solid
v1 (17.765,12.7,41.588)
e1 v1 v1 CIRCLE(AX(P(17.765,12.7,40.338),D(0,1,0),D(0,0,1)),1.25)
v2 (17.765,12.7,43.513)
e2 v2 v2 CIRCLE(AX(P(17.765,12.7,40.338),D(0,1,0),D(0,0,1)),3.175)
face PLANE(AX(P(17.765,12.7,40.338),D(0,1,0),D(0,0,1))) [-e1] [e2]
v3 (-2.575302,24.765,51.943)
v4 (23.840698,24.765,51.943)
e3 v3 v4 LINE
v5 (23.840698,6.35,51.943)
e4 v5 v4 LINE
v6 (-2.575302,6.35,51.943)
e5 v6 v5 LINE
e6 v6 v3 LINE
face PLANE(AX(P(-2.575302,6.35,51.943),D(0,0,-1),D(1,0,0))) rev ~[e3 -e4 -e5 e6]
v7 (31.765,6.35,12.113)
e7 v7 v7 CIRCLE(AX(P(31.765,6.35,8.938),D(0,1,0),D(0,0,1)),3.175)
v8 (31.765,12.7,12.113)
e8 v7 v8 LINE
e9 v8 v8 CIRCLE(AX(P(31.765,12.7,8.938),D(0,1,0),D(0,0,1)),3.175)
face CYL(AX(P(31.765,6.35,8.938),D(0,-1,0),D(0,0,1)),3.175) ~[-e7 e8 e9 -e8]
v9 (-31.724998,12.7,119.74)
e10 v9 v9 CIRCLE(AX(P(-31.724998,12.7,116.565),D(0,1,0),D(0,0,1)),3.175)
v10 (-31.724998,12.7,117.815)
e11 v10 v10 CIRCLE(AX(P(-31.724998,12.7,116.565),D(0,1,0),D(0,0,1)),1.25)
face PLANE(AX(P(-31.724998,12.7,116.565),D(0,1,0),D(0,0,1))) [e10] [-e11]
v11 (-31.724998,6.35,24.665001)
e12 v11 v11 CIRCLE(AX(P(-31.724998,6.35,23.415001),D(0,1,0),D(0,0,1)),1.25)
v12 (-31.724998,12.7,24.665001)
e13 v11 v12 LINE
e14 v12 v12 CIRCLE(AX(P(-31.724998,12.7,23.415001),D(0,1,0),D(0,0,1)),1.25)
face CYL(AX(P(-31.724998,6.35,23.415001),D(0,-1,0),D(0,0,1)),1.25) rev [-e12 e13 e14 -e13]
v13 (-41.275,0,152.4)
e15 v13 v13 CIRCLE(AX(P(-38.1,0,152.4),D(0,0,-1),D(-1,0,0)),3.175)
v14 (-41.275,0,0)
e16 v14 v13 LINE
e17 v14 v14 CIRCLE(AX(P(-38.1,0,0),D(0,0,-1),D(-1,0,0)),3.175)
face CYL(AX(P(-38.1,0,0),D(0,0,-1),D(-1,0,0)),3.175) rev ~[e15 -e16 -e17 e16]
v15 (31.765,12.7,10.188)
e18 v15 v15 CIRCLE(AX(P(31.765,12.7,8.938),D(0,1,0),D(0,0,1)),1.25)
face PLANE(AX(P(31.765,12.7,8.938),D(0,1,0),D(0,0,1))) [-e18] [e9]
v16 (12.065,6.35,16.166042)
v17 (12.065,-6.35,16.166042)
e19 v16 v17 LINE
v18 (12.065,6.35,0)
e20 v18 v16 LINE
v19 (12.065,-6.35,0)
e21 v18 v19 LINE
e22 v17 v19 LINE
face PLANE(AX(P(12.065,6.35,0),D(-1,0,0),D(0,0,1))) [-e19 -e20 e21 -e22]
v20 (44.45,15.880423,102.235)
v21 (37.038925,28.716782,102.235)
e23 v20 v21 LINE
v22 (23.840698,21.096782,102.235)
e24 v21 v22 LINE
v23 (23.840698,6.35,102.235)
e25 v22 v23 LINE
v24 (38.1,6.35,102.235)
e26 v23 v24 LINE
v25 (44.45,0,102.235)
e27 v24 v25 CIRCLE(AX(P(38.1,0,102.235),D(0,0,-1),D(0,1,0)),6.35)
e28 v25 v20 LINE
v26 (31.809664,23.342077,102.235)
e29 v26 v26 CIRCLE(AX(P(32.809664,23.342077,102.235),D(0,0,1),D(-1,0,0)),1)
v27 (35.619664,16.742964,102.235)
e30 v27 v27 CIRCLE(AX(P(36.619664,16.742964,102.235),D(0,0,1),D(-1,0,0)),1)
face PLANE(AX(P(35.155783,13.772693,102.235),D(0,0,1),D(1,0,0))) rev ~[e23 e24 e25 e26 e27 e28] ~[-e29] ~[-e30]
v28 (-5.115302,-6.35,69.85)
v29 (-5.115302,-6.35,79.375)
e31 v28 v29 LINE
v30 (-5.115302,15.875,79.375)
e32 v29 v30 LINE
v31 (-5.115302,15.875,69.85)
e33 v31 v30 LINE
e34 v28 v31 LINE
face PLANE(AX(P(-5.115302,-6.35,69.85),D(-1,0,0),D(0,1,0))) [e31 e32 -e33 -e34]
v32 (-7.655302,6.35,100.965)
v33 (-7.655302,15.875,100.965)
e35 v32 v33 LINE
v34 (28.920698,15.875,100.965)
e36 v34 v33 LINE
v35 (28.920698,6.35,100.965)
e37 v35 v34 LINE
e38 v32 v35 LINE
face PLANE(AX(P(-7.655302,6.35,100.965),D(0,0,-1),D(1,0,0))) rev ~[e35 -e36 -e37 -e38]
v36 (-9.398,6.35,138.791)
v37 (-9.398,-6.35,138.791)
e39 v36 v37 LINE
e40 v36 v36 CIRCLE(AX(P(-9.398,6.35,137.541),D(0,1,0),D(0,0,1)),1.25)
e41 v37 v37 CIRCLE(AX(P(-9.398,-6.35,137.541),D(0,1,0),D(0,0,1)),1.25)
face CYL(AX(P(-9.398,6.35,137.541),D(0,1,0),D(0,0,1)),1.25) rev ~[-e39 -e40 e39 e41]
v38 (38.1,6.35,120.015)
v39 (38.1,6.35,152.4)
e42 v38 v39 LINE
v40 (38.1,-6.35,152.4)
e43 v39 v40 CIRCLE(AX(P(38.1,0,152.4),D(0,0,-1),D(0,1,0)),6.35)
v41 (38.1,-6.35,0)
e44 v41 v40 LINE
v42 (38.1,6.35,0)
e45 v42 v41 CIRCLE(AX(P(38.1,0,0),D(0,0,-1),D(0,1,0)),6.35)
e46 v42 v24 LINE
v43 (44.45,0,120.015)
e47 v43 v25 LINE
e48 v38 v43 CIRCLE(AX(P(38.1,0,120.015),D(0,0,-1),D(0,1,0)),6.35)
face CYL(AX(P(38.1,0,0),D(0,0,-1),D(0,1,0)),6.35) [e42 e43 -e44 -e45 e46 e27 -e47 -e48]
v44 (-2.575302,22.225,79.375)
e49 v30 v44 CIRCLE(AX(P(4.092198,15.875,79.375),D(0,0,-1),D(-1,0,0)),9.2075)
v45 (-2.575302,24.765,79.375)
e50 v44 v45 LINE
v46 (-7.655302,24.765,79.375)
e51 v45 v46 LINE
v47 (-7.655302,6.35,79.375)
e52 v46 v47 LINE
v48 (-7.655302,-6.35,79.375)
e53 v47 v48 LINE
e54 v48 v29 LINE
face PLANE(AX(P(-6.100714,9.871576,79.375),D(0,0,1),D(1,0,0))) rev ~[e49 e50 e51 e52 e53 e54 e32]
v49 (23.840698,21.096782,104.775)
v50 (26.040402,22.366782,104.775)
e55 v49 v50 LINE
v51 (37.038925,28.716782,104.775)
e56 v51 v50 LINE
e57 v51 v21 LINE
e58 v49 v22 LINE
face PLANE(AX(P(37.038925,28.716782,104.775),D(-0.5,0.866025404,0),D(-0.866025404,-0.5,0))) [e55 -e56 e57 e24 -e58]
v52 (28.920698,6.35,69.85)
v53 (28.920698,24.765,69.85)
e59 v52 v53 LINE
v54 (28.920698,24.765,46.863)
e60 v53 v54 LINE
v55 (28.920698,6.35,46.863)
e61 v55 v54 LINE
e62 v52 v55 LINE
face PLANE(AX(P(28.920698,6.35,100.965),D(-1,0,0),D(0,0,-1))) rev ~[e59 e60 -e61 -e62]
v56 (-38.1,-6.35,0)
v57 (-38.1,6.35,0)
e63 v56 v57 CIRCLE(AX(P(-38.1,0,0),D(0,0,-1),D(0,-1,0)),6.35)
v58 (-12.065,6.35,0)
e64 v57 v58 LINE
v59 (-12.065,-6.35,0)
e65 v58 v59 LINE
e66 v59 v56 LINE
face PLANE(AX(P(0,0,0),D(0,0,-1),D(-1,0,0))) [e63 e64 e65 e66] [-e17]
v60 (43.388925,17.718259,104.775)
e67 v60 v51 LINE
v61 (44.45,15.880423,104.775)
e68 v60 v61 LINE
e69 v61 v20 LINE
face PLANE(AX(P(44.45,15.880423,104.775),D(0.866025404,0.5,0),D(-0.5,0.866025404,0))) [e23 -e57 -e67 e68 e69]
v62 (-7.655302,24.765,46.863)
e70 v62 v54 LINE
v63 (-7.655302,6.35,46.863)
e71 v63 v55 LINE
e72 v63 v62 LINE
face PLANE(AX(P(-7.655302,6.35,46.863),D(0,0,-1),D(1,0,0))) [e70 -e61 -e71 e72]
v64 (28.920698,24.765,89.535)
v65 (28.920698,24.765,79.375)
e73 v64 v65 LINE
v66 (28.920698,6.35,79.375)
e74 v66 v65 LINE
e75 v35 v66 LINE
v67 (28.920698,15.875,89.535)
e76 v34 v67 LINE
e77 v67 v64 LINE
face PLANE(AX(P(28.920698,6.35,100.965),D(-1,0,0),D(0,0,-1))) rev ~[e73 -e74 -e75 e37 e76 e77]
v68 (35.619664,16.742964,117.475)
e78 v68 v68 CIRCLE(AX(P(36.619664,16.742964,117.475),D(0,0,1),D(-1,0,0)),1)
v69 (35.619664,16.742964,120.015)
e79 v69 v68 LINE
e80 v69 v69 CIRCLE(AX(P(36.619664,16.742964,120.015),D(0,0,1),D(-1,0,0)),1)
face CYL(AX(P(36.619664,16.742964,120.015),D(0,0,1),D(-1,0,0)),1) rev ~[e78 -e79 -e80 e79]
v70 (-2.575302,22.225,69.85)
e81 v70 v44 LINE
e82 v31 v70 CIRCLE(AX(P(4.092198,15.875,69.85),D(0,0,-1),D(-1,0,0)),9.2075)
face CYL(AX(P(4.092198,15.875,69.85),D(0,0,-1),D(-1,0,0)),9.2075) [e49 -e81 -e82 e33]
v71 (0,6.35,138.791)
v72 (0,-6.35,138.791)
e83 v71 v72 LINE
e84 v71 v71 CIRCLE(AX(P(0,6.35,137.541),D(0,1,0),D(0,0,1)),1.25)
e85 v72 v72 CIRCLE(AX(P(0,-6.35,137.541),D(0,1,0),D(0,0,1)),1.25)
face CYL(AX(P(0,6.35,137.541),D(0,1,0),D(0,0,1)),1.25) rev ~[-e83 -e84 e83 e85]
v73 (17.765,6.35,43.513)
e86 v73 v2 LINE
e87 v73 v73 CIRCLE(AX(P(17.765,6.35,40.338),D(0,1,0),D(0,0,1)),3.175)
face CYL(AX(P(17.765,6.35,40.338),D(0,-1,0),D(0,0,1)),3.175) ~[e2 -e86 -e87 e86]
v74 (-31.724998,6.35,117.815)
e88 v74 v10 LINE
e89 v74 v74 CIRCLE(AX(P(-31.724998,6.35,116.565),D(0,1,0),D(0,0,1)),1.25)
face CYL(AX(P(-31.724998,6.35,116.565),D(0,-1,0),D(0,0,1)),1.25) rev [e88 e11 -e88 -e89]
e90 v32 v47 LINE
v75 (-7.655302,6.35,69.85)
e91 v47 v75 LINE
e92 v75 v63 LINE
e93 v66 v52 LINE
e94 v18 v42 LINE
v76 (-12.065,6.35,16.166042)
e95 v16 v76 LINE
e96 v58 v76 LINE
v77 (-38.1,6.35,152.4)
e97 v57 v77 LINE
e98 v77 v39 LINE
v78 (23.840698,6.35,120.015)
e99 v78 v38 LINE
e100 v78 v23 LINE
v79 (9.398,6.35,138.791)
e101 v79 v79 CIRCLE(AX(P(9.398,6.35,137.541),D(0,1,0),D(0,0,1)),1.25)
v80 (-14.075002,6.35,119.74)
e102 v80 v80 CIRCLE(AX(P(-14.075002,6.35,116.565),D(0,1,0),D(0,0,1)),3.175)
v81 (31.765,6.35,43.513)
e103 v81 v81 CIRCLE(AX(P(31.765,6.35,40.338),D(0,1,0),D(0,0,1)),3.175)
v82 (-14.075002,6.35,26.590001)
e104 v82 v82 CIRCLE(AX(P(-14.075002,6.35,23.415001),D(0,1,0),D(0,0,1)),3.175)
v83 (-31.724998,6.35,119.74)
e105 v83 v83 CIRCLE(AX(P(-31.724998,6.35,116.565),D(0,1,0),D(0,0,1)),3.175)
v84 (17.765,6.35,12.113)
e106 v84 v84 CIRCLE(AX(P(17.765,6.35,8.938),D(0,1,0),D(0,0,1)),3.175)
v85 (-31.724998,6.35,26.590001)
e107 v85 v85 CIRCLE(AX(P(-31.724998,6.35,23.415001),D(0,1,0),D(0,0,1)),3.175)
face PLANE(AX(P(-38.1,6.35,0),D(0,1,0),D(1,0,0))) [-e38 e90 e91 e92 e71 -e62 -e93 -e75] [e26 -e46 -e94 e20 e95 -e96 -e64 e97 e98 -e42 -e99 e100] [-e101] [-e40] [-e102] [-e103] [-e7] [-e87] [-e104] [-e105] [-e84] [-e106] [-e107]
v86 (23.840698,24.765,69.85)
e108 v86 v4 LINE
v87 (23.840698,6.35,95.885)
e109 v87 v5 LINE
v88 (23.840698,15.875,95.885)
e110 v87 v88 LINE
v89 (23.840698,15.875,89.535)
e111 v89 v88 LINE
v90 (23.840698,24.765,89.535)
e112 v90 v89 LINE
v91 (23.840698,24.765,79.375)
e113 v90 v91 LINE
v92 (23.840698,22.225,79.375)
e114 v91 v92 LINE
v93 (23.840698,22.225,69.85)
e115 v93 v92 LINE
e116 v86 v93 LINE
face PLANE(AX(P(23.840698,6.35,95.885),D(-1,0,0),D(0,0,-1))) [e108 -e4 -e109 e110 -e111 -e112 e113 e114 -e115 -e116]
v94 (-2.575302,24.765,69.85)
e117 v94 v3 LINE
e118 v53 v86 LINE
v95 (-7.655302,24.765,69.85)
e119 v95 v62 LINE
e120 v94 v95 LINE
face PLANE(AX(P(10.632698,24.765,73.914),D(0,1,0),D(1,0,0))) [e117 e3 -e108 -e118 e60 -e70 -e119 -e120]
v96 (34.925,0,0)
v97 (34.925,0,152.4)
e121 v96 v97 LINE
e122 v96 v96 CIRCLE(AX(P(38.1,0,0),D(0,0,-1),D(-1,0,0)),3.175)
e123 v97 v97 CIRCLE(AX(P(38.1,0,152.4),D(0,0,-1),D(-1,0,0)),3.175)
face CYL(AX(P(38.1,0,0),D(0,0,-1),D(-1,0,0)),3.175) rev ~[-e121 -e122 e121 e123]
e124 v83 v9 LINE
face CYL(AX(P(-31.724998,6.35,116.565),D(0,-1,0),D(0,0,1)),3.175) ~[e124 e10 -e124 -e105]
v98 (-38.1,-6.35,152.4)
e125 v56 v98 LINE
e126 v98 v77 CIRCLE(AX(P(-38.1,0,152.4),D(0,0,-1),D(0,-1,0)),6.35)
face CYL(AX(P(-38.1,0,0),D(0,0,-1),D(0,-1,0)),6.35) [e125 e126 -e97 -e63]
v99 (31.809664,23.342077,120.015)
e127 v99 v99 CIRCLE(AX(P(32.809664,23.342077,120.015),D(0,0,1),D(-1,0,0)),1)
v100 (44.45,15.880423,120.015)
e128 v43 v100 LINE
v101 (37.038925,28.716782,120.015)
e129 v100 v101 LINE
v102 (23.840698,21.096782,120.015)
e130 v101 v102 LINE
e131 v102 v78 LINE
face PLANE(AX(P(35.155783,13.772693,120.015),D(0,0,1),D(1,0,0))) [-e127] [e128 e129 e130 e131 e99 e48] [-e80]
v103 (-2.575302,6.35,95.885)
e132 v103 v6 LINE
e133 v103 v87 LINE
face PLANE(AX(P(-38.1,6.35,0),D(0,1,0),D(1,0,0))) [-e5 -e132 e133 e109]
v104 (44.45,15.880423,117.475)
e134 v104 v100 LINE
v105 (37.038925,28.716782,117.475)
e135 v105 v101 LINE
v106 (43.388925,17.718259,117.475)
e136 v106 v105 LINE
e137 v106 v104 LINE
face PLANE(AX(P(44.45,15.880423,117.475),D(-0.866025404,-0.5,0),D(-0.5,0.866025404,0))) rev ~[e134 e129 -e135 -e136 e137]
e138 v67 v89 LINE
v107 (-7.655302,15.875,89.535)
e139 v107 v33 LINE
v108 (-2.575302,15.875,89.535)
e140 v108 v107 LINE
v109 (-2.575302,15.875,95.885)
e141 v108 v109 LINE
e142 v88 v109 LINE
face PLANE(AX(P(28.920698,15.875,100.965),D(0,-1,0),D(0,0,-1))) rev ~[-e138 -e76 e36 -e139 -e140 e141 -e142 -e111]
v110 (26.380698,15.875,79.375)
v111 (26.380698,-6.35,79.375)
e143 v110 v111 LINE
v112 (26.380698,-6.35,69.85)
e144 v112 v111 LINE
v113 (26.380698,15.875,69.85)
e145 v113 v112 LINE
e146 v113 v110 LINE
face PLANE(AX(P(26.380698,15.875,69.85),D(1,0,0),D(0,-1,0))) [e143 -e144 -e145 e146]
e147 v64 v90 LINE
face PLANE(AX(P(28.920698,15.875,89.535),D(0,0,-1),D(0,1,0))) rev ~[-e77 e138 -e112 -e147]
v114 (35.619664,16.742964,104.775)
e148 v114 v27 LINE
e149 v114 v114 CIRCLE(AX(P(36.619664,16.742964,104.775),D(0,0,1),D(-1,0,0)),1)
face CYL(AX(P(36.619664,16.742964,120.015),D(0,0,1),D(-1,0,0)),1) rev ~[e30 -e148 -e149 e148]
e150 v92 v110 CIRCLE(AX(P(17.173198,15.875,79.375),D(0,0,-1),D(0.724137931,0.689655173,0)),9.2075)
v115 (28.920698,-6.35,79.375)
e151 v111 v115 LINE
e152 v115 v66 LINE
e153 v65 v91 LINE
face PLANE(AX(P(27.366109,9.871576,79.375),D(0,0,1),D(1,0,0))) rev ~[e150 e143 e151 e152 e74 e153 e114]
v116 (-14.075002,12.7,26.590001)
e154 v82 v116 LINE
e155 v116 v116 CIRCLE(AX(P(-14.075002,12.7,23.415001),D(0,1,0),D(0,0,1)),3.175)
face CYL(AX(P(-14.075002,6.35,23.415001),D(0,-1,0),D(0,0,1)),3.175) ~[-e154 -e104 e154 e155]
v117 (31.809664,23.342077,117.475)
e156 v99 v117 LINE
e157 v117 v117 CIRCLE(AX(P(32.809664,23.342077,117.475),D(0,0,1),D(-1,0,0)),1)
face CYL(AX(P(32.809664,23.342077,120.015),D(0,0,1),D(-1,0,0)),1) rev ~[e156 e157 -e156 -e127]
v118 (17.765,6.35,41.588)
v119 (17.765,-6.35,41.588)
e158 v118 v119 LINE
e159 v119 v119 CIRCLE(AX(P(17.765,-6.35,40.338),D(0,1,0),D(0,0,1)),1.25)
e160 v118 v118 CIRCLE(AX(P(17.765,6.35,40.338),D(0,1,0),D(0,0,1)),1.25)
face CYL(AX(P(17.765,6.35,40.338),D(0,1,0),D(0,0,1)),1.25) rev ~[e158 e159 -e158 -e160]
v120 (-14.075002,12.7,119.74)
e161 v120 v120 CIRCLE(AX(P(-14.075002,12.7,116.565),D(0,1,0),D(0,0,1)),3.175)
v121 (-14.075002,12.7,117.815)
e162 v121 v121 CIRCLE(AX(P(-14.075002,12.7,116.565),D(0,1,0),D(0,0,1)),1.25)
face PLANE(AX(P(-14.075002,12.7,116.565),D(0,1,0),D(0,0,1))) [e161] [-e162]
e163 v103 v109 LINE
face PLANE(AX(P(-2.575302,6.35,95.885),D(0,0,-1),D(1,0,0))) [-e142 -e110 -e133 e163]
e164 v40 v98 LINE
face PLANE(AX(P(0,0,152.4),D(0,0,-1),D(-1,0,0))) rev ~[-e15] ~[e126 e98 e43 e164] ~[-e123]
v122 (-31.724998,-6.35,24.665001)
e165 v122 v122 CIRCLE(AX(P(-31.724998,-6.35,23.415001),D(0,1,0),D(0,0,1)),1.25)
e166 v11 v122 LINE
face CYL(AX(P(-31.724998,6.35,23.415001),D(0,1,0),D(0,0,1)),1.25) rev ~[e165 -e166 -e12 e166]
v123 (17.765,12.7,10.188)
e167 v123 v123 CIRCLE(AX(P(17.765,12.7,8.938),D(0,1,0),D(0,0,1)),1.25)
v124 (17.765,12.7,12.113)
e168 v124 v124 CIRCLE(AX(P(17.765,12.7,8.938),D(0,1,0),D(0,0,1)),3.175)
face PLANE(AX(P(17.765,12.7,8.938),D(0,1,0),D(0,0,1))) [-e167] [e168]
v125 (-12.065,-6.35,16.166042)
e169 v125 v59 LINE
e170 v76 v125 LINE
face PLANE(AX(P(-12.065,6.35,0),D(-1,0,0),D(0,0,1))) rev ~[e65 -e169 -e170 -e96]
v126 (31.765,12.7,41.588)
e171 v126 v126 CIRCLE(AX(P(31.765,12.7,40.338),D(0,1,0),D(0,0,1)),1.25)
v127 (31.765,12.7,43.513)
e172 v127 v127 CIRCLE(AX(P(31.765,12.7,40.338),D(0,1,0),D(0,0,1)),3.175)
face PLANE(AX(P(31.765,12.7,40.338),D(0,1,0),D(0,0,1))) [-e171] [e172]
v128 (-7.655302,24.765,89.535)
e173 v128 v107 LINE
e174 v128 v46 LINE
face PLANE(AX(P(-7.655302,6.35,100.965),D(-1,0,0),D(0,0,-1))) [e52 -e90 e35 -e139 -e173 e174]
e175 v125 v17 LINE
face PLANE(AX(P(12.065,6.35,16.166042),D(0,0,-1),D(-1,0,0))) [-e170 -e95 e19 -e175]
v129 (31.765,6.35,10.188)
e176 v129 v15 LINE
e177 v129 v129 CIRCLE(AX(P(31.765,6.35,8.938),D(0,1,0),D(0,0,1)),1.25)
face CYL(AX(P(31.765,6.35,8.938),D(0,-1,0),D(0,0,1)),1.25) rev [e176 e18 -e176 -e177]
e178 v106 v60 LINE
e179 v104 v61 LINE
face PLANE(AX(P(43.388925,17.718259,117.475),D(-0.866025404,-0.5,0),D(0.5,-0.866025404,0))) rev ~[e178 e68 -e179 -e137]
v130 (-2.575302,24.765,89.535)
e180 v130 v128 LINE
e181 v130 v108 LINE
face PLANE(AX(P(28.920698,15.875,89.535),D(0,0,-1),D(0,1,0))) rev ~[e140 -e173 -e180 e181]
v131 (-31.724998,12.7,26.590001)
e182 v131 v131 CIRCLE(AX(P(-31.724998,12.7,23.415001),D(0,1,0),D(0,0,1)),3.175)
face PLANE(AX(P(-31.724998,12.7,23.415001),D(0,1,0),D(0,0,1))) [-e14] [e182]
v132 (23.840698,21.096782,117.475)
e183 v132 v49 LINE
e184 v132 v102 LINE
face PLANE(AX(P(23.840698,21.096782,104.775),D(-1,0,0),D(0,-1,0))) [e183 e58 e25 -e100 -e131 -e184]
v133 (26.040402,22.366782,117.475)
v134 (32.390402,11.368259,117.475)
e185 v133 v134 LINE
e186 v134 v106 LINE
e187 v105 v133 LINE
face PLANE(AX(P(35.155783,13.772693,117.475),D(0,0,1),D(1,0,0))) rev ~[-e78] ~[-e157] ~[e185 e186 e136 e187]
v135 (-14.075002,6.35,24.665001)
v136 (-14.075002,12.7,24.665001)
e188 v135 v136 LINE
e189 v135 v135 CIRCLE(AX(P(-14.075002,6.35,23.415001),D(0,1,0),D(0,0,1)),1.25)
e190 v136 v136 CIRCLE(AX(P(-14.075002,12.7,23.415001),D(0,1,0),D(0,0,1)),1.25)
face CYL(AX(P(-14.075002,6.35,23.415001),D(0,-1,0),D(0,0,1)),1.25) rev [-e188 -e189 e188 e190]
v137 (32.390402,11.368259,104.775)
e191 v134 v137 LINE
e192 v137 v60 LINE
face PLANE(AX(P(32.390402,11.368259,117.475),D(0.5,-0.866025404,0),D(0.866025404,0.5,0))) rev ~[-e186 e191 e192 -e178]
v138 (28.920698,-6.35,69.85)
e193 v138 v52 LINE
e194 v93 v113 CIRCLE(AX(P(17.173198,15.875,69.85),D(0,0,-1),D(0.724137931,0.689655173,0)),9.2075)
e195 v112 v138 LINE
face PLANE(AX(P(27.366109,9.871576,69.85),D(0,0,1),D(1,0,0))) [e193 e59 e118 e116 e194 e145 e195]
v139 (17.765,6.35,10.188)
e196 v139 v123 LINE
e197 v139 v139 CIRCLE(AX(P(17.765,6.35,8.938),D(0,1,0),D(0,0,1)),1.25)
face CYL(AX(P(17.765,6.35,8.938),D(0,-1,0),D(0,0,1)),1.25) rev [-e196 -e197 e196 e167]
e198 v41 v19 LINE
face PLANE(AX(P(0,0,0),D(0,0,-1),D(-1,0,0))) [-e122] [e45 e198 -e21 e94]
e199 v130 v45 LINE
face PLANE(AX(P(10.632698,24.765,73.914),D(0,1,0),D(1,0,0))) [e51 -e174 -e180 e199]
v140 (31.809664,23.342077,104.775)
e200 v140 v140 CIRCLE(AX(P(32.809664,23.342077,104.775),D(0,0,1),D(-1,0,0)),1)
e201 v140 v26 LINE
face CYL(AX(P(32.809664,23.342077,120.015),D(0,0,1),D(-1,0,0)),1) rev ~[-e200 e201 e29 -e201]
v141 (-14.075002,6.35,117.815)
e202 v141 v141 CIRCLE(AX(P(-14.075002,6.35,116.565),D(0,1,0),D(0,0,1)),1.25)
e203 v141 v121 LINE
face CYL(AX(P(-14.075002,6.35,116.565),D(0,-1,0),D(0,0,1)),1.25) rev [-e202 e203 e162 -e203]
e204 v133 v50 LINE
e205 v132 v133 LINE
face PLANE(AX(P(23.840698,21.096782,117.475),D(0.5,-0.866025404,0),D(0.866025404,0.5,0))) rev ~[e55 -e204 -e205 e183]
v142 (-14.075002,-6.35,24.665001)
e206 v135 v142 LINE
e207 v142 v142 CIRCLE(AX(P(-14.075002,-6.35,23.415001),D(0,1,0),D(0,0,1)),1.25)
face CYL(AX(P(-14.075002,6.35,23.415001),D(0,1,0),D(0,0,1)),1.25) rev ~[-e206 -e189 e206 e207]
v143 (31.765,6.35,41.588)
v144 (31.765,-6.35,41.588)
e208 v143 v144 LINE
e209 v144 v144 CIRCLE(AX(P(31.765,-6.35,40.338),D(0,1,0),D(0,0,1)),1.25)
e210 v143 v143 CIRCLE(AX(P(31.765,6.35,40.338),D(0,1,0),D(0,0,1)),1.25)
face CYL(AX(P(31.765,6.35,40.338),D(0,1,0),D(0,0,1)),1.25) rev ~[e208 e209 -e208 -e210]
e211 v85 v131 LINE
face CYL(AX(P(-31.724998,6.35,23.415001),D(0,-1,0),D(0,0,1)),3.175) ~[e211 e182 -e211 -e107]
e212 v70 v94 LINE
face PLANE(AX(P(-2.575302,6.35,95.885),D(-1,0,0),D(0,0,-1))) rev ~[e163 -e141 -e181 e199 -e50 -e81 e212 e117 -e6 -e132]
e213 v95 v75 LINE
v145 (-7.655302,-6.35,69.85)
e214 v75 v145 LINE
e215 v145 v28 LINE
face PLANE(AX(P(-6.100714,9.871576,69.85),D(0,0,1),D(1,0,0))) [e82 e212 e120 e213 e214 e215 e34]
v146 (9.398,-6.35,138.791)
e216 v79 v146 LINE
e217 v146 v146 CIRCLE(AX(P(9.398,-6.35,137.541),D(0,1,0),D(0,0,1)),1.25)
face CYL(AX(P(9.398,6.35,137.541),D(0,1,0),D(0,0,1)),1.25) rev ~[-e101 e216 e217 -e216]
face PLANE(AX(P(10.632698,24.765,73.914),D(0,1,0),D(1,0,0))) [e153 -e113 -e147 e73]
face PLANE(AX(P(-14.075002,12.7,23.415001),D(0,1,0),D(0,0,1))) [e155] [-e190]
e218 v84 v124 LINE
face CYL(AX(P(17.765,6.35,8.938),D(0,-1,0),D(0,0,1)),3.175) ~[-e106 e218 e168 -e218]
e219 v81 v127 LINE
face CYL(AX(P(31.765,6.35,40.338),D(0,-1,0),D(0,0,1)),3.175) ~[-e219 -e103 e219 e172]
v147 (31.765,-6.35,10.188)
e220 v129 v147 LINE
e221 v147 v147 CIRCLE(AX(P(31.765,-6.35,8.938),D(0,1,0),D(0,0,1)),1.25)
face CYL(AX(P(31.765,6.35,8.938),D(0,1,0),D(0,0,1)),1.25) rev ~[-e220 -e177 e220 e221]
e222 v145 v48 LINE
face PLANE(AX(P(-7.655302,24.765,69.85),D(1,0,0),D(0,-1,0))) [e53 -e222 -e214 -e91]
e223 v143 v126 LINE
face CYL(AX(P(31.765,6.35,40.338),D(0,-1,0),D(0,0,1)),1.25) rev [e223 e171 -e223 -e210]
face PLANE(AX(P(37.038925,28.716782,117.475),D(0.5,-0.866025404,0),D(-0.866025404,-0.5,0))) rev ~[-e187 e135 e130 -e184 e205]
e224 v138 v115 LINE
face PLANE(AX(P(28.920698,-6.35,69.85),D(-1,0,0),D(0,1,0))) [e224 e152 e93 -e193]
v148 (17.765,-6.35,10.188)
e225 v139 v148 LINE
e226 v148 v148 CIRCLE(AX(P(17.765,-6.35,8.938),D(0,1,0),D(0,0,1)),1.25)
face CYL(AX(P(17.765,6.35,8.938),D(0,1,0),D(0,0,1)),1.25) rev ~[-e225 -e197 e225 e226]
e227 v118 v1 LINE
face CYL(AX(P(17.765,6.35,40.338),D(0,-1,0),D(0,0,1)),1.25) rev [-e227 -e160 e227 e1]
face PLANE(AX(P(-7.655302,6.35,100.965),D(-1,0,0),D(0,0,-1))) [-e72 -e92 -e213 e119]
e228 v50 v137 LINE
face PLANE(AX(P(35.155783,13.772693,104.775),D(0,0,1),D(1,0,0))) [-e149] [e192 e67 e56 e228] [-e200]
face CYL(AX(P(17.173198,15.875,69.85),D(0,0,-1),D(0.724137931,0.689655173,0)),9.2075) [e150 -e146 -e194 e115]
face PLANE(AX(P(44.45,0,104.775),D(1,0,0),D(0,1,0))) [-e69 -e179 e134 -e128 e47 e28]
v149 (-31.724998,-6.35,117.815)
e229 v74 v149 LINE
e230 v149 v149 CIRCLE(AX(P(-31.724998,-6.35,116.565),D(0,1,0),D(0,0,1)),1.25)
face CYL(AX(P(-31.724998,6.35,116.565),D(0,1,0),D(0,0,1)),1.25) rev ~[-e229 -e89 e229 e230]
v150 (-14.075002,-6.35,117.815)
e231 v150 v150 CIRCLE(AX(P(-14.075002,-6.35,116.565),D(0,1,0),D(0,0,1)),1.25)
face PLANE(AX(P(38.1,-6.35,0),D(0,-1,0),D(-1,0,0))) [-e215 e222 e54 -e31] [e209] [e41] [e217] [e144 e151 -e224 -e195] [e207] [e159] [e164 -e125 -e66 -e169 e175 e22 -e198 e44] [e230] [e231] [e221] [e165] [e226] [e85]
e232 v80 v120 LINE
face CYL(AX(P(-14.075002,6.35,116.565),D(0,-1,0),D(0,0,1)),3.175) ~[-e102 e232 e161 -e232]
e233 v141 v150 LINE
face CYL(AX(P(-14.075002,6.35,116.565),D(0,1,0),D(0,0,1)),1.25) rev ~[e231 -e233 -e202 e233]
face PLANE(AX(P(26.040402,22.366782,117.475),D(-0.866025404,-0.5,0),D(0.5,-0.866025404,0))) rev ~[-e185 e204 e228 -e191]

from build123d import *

# Parameters (mm, degrees)
BOSS_EXTRUDE1_DEPTH = 152.4
SKETCH3_R           = 3.175
CUT_EXTRUDE1_DEPTH  = 159.876949241
BOSS_EXTRUDE2_START = -34.925
BOSS_EXTRUDE2_DEPTH = 12.7
BOSS_EXTRUDE3_DEPTH = 2.54
BOSS_EXTRUDE4_START = -12.7
BOSS_EXTRUDE4_DEPTH = 2.54
SKETCH7_R           = 1
CUT_EXTRUDE2_DEPTH  = 25.4
SKETCH8_W           = 36.576
SKETCH8_H           = 54.102
SKETCH8_W_2         = 26.416
SKETCH8_H_2         = 43.942
BOSS_EXTRUDE5_DEPTH = 18.415
SKETCH9_W           = 11.43
SKETCH9_H           = 8.89
CUT_EXTRUDE3_DEPTH  = 50.8
SKETCH10_R          = 3.175
SKETCH10_R_2        = 1.25
BOSS_EXTRUDE6_DEPTH = 6.35
SKETCH12_R          = 1.25
CUT_EXTRUDE4_DEPTH  = 161.317919845
SKETCH13_W          = 24.13
SKETCH13_H          = 16.166041667
CUT_EXTRUDE5_DEPTH  = 322.365846996
CUT_EXTRUDE6_START  = -69.85
CUT_EXTRUDE6_DEPTH  = 9.525
SKETCH15_R          = 1.25
CUT_EXTRUDE7_DEPTH  = 218.016479851


with BuildPart() as part:
    # Sketch2 → Boss-Extrude1 (new body)
    with BuildSketch(Plane.XY):
        with BuildLine():
            Line((-38.1, 6.35), (38.1, 6.35))
            ThreePointArc((38.1, 6.35), (44.45, 0), (38.1, -6.35))
            Line((38.1, -6.35), (-38.1, -6.35))
            ThreePointArc((-38.1, -6.35), (-44.45, 0), (-38.1, 6.35))
        make_face()
    extrude(amount=BOSS_EXTRUDE1_DEPTH)

    # Sketch3 → Cut-Extrude1 (cut, through all)
    with BuildSketch(Plane(origin=(0, 0, 0), x_dir=(-1, 0, 0), z_dir=(0, 0, -1))):
        with Locations((-38.1, 0)):
            Circle(SKETCH3_R)
        with Locations((38.1, 0)):
            Circle(SKETCH3_R)
    extrude(amount=-CUT_EXTRUDE1_DEPTH, mode=Mode.SUBTRACT)

    # Sketch5 → Boss-Extrude2 (add)
    with BuildSketch(Plane.XY.offset(152.4).offset(BOSS_EXTRUDE2_START)):
        with BuildLine():
            Line((26.040402296, 22.366781694), (32.390402296, 11.368259066))
            Line((32.390402296, 11.368259066), (43.388924924, 17.718259066))
            Line((43.388924924, 17.718259066), (44.45, 15.880423124))
            Line((44.45, 15.880423124), (44.45, 0))
            ThreePointArc((44.45, 0), (42.590128061, 4.490128061), (38.1, 6.35))
            Line((38.1, 6.35), (23.84069777, 6.35))
            Line((23.84069777, 6.35), (23.84069777, 21.096781694))
            Line((23.84069777, 21.096781694), (26.040402296, 22.366781694))
        make_face()
    extrude(amount=-BOSS_EXTRUDE2_DEPTH)

    # Sketch6 → Boss-Extrude3 (add)
    with BuildSketch(Plane.XY.offset(117.475)):
        with BuildLine():
            Line((23.84069777, 6.35), (38.1, 6.35))
            ThreePointArc((38.1, 6.35), (42.590128061, 4.490128061), (44.45, 0))
            Line((44.45, 0), (44.45, 15.880423124))
            Line((44.45, 15.880423124), (37.038924924, 28.716781694))
            Line((37.038924924, 28.716781694), (23.84069777, 21.096781694))
            Line((23.84069777, 21.096781694), (23.84069777, 6.35))
        make_face()
    extrude(amount=BOSS_EXTRUDE3_DEPTH)

    # Sketch6<2> → Boss-Extrude4 (add)
    with BuildSketch(Plane.XY.offset(117.475).offset(BOSS_EXTRUDE4_START)):
        with BuildLine():
            Line((23.84069777, 6.35), (38.1, 6.35))
            ThreePointArc((38.1, 6.35), (42.590128061, 4.490128061), (44.45, 0))
            Line((44.45, 0), (44.45, 15.880423124))
            Line((44.45, 15.880423124), (37.038924924, 28.716781694))
            Line((37.038924924, 28.716781694), (23.84069777, 21.096781694))
            Line((23.84069777, 21.096781694), (23.84069777, 6.35))
        make_face()
    extrude(amount=-BOSS_EXTRUDE4_DEPTH)

    # Sketch7 → Cut-Extrude2 (cut)
    with BuildSketch(Plane(origin=(-48.529047444, -83.623680275, 120.015), x_dir=(1, 0, 0), z_dir=(0, 0, 1))):
        with Locations(Location((85.148711054, 100.366643867, 0), (0, 0, 180))):
            Circle(SKETCH7_R)
        with Locations(Location((81.338711054, 106.965757444, 0), (0, 0, 180))):
            Circle(SKETCH7_R)
    extrude(amount=-CUT_EXTRUDE2_DEPTH, mode=Mode.SUBTRACT)

    # Sketch8 → Boss-Extrude5 (add)
    with BuildSketch(Plane(origin=(0, 6.35, 0), x_dir=(1, 0, 0), z_dir=(0, 1, 0))):
        with Locations((10.63269777, -73.914)):
            Rectangle(SKETCH8_W, SKETCH8_H)
        with Locations((10.63269777, -73.914)):
            Rectangle(SKETCH8_W_2, SKETCH8_H_2, mode=Mode.SUBTRACT)
    extrude(amount=BOSS_EXTRUDE5_DEPTH)

    # Sketch9 → Cut-Extrude3 (cut)
    with BuildSketch(Plane(origin=(28.92069777, -83.623680275, -42.409589959), x_dir=(0, 0, -1), z_dir=(1, 0, 0))):
        with Locations((-137.659589959, 103.943680275)):
            Rectangle(SKETCH9_W, SKETCH9_H)
    extrude(amount=-CUT_EXTRUDE3_DEPTH, mode=Mode.SUBTRACT)

    # Sketch10 → Boss-Extrude6 (add)
    with BuildSketch(Plane(origin=(0, 6.35, 0), x_dir=(1, 0, 0), z_dir=(0, 1, 0))):
        with Locations(Location((31.765, -8.938, 0), (0, 0, 270))):
            Circle(SKETCH10_R)
        with Locations(Location((31.765, -8.938, 0), (0, 0, 270))):
            Circle(SKETCH10_R_2, mode=Mode.SUBTRACT)
    boss_extrude6 = extrude(amount=BOSS_EXTRUDE6_DEPTH)

    # Sketch12 → Cut-Extrude4 (cut, through all)
    with BuildSketch(Plane(origin=(0, 6.35, 0), x_dir=(1, 0, 0), z_dir=(0, 1, 0))):
        with Locations(Location((31.765, -8.938, 0), (0, 0, 270))):
            Circle(SKETCH12_R)
    cut_extrude4 = extrude(amount=-CUT_EXTRUDE4_DEPTH, mode=Mode.SUBTRACT)

    # Sketch-Pattern1: Boss-Extrude6, Cut-Extrude4 at 7 more places
    with Locations((0, 0, 31.4), (-14, 0, 31.4), (-14, 0, 0), (-45.840002, 0, 14.477001), (-63.489998, 0, 14.477001), (-63.489998, 0, 107.627), (-45.840002, 0, 107.627)):
        add(boss_extrude6)
        add(cut_extrude4, mode=Mode.SUBTRACT)

    # Sketch13 → Cut-Extrude5 (cut, through all)
    with BuildSketch(Plane(origin=(55.039702575, 6.35, 304.758156205), x_dir=(-1, 0, 0), z_dir=(0, 1, 0))):
        with Locations((55.039702575, -296.675135372)):
            Rectangle(SKETCH13_W, SKETCH13_H)
    extrude(amount=-CUT_EXTRUDE5_DEPTH, mode=Mode.SUBTRACT)

    # Sketch14 → Cut-Extrude6 (cut)
    with BuildSketch(Plane(origin=(-48.529047444, -83.623680275, 0), x_dir=(-1, 0, 0), z_dir=(0, 0, -1)).offset(CUT_EXTRUDE6_START)):
        with BuildLine():
            Line((-74.909745214, 99.498680275), (-74.909745214, 77.273680275))
            Line((-74.909745214, 77.273680275), (-77.449745214, 77.273680275))
            Line((-77.449745214, 77.273680275), (-77.449745214, 108.388680275))
            Line((-77.449745214, 108.388680275), (-72.369745214, 108.388680275))
            Line((-72.369745214, 108.388680275), (-72.369745214, 105.848680275))
            ThreePointArc((-72.369745214, 105.848680275), (-74.251194346, 102.918259928), (-74.909745214, 99.498680275))
        make_face()
        with BuildLine():
            Line((-45.953745214, 105.848680275), (-45.953745214, 108.388680275))
            Line((-45.953745214, 108.388680275), (-40.873745214, 108.388680275))
            Line((-40.873745214, 108.388680275), (-40.873745214, 77.273680275))
            Line((-40.873745214, 77.273680275), (-43.413745214, 77.273680275))
            Line((-43.413745214, 77.273680275), (-43.413745214, 99.498680275))
            ThreePointArc((-43.413745214, 99.498680275), (-44.072296083, 102.918259928), (-45.953745214, 105.848680275))
        make_face()
    extrude(amount=-CUT_EXTRUDE6_DEPTH, mode=Mode.SUBTRACT)

    # Sketch15 → Cut-Extrude7 (cut, through all)
    with BuildSketch(Plane(origin=(-48.529047444, 6.35, -42.409589959), x_dir=(1, 0, 0), z_dir=(0, 1, 0))):
        with Locations(Location((57.927047444, -179.950589959, 0), (0, 0, 270))):
            Circle(SKETCH15_R)
        with Locations(Location((48.529047444, -179.950589959, 0), (0, 0, 270))):
            Circle(SKETCH15_R)
        with Locations(Location((39.131047444, -179.950589959, 0), (0, 0, 270))):
            Circle(SKETCH15_R)
    extrude(amount=-CUT_EXTRUDE7_DEPTH, mode=Mode.SUBTRACT)


solid = part.part
